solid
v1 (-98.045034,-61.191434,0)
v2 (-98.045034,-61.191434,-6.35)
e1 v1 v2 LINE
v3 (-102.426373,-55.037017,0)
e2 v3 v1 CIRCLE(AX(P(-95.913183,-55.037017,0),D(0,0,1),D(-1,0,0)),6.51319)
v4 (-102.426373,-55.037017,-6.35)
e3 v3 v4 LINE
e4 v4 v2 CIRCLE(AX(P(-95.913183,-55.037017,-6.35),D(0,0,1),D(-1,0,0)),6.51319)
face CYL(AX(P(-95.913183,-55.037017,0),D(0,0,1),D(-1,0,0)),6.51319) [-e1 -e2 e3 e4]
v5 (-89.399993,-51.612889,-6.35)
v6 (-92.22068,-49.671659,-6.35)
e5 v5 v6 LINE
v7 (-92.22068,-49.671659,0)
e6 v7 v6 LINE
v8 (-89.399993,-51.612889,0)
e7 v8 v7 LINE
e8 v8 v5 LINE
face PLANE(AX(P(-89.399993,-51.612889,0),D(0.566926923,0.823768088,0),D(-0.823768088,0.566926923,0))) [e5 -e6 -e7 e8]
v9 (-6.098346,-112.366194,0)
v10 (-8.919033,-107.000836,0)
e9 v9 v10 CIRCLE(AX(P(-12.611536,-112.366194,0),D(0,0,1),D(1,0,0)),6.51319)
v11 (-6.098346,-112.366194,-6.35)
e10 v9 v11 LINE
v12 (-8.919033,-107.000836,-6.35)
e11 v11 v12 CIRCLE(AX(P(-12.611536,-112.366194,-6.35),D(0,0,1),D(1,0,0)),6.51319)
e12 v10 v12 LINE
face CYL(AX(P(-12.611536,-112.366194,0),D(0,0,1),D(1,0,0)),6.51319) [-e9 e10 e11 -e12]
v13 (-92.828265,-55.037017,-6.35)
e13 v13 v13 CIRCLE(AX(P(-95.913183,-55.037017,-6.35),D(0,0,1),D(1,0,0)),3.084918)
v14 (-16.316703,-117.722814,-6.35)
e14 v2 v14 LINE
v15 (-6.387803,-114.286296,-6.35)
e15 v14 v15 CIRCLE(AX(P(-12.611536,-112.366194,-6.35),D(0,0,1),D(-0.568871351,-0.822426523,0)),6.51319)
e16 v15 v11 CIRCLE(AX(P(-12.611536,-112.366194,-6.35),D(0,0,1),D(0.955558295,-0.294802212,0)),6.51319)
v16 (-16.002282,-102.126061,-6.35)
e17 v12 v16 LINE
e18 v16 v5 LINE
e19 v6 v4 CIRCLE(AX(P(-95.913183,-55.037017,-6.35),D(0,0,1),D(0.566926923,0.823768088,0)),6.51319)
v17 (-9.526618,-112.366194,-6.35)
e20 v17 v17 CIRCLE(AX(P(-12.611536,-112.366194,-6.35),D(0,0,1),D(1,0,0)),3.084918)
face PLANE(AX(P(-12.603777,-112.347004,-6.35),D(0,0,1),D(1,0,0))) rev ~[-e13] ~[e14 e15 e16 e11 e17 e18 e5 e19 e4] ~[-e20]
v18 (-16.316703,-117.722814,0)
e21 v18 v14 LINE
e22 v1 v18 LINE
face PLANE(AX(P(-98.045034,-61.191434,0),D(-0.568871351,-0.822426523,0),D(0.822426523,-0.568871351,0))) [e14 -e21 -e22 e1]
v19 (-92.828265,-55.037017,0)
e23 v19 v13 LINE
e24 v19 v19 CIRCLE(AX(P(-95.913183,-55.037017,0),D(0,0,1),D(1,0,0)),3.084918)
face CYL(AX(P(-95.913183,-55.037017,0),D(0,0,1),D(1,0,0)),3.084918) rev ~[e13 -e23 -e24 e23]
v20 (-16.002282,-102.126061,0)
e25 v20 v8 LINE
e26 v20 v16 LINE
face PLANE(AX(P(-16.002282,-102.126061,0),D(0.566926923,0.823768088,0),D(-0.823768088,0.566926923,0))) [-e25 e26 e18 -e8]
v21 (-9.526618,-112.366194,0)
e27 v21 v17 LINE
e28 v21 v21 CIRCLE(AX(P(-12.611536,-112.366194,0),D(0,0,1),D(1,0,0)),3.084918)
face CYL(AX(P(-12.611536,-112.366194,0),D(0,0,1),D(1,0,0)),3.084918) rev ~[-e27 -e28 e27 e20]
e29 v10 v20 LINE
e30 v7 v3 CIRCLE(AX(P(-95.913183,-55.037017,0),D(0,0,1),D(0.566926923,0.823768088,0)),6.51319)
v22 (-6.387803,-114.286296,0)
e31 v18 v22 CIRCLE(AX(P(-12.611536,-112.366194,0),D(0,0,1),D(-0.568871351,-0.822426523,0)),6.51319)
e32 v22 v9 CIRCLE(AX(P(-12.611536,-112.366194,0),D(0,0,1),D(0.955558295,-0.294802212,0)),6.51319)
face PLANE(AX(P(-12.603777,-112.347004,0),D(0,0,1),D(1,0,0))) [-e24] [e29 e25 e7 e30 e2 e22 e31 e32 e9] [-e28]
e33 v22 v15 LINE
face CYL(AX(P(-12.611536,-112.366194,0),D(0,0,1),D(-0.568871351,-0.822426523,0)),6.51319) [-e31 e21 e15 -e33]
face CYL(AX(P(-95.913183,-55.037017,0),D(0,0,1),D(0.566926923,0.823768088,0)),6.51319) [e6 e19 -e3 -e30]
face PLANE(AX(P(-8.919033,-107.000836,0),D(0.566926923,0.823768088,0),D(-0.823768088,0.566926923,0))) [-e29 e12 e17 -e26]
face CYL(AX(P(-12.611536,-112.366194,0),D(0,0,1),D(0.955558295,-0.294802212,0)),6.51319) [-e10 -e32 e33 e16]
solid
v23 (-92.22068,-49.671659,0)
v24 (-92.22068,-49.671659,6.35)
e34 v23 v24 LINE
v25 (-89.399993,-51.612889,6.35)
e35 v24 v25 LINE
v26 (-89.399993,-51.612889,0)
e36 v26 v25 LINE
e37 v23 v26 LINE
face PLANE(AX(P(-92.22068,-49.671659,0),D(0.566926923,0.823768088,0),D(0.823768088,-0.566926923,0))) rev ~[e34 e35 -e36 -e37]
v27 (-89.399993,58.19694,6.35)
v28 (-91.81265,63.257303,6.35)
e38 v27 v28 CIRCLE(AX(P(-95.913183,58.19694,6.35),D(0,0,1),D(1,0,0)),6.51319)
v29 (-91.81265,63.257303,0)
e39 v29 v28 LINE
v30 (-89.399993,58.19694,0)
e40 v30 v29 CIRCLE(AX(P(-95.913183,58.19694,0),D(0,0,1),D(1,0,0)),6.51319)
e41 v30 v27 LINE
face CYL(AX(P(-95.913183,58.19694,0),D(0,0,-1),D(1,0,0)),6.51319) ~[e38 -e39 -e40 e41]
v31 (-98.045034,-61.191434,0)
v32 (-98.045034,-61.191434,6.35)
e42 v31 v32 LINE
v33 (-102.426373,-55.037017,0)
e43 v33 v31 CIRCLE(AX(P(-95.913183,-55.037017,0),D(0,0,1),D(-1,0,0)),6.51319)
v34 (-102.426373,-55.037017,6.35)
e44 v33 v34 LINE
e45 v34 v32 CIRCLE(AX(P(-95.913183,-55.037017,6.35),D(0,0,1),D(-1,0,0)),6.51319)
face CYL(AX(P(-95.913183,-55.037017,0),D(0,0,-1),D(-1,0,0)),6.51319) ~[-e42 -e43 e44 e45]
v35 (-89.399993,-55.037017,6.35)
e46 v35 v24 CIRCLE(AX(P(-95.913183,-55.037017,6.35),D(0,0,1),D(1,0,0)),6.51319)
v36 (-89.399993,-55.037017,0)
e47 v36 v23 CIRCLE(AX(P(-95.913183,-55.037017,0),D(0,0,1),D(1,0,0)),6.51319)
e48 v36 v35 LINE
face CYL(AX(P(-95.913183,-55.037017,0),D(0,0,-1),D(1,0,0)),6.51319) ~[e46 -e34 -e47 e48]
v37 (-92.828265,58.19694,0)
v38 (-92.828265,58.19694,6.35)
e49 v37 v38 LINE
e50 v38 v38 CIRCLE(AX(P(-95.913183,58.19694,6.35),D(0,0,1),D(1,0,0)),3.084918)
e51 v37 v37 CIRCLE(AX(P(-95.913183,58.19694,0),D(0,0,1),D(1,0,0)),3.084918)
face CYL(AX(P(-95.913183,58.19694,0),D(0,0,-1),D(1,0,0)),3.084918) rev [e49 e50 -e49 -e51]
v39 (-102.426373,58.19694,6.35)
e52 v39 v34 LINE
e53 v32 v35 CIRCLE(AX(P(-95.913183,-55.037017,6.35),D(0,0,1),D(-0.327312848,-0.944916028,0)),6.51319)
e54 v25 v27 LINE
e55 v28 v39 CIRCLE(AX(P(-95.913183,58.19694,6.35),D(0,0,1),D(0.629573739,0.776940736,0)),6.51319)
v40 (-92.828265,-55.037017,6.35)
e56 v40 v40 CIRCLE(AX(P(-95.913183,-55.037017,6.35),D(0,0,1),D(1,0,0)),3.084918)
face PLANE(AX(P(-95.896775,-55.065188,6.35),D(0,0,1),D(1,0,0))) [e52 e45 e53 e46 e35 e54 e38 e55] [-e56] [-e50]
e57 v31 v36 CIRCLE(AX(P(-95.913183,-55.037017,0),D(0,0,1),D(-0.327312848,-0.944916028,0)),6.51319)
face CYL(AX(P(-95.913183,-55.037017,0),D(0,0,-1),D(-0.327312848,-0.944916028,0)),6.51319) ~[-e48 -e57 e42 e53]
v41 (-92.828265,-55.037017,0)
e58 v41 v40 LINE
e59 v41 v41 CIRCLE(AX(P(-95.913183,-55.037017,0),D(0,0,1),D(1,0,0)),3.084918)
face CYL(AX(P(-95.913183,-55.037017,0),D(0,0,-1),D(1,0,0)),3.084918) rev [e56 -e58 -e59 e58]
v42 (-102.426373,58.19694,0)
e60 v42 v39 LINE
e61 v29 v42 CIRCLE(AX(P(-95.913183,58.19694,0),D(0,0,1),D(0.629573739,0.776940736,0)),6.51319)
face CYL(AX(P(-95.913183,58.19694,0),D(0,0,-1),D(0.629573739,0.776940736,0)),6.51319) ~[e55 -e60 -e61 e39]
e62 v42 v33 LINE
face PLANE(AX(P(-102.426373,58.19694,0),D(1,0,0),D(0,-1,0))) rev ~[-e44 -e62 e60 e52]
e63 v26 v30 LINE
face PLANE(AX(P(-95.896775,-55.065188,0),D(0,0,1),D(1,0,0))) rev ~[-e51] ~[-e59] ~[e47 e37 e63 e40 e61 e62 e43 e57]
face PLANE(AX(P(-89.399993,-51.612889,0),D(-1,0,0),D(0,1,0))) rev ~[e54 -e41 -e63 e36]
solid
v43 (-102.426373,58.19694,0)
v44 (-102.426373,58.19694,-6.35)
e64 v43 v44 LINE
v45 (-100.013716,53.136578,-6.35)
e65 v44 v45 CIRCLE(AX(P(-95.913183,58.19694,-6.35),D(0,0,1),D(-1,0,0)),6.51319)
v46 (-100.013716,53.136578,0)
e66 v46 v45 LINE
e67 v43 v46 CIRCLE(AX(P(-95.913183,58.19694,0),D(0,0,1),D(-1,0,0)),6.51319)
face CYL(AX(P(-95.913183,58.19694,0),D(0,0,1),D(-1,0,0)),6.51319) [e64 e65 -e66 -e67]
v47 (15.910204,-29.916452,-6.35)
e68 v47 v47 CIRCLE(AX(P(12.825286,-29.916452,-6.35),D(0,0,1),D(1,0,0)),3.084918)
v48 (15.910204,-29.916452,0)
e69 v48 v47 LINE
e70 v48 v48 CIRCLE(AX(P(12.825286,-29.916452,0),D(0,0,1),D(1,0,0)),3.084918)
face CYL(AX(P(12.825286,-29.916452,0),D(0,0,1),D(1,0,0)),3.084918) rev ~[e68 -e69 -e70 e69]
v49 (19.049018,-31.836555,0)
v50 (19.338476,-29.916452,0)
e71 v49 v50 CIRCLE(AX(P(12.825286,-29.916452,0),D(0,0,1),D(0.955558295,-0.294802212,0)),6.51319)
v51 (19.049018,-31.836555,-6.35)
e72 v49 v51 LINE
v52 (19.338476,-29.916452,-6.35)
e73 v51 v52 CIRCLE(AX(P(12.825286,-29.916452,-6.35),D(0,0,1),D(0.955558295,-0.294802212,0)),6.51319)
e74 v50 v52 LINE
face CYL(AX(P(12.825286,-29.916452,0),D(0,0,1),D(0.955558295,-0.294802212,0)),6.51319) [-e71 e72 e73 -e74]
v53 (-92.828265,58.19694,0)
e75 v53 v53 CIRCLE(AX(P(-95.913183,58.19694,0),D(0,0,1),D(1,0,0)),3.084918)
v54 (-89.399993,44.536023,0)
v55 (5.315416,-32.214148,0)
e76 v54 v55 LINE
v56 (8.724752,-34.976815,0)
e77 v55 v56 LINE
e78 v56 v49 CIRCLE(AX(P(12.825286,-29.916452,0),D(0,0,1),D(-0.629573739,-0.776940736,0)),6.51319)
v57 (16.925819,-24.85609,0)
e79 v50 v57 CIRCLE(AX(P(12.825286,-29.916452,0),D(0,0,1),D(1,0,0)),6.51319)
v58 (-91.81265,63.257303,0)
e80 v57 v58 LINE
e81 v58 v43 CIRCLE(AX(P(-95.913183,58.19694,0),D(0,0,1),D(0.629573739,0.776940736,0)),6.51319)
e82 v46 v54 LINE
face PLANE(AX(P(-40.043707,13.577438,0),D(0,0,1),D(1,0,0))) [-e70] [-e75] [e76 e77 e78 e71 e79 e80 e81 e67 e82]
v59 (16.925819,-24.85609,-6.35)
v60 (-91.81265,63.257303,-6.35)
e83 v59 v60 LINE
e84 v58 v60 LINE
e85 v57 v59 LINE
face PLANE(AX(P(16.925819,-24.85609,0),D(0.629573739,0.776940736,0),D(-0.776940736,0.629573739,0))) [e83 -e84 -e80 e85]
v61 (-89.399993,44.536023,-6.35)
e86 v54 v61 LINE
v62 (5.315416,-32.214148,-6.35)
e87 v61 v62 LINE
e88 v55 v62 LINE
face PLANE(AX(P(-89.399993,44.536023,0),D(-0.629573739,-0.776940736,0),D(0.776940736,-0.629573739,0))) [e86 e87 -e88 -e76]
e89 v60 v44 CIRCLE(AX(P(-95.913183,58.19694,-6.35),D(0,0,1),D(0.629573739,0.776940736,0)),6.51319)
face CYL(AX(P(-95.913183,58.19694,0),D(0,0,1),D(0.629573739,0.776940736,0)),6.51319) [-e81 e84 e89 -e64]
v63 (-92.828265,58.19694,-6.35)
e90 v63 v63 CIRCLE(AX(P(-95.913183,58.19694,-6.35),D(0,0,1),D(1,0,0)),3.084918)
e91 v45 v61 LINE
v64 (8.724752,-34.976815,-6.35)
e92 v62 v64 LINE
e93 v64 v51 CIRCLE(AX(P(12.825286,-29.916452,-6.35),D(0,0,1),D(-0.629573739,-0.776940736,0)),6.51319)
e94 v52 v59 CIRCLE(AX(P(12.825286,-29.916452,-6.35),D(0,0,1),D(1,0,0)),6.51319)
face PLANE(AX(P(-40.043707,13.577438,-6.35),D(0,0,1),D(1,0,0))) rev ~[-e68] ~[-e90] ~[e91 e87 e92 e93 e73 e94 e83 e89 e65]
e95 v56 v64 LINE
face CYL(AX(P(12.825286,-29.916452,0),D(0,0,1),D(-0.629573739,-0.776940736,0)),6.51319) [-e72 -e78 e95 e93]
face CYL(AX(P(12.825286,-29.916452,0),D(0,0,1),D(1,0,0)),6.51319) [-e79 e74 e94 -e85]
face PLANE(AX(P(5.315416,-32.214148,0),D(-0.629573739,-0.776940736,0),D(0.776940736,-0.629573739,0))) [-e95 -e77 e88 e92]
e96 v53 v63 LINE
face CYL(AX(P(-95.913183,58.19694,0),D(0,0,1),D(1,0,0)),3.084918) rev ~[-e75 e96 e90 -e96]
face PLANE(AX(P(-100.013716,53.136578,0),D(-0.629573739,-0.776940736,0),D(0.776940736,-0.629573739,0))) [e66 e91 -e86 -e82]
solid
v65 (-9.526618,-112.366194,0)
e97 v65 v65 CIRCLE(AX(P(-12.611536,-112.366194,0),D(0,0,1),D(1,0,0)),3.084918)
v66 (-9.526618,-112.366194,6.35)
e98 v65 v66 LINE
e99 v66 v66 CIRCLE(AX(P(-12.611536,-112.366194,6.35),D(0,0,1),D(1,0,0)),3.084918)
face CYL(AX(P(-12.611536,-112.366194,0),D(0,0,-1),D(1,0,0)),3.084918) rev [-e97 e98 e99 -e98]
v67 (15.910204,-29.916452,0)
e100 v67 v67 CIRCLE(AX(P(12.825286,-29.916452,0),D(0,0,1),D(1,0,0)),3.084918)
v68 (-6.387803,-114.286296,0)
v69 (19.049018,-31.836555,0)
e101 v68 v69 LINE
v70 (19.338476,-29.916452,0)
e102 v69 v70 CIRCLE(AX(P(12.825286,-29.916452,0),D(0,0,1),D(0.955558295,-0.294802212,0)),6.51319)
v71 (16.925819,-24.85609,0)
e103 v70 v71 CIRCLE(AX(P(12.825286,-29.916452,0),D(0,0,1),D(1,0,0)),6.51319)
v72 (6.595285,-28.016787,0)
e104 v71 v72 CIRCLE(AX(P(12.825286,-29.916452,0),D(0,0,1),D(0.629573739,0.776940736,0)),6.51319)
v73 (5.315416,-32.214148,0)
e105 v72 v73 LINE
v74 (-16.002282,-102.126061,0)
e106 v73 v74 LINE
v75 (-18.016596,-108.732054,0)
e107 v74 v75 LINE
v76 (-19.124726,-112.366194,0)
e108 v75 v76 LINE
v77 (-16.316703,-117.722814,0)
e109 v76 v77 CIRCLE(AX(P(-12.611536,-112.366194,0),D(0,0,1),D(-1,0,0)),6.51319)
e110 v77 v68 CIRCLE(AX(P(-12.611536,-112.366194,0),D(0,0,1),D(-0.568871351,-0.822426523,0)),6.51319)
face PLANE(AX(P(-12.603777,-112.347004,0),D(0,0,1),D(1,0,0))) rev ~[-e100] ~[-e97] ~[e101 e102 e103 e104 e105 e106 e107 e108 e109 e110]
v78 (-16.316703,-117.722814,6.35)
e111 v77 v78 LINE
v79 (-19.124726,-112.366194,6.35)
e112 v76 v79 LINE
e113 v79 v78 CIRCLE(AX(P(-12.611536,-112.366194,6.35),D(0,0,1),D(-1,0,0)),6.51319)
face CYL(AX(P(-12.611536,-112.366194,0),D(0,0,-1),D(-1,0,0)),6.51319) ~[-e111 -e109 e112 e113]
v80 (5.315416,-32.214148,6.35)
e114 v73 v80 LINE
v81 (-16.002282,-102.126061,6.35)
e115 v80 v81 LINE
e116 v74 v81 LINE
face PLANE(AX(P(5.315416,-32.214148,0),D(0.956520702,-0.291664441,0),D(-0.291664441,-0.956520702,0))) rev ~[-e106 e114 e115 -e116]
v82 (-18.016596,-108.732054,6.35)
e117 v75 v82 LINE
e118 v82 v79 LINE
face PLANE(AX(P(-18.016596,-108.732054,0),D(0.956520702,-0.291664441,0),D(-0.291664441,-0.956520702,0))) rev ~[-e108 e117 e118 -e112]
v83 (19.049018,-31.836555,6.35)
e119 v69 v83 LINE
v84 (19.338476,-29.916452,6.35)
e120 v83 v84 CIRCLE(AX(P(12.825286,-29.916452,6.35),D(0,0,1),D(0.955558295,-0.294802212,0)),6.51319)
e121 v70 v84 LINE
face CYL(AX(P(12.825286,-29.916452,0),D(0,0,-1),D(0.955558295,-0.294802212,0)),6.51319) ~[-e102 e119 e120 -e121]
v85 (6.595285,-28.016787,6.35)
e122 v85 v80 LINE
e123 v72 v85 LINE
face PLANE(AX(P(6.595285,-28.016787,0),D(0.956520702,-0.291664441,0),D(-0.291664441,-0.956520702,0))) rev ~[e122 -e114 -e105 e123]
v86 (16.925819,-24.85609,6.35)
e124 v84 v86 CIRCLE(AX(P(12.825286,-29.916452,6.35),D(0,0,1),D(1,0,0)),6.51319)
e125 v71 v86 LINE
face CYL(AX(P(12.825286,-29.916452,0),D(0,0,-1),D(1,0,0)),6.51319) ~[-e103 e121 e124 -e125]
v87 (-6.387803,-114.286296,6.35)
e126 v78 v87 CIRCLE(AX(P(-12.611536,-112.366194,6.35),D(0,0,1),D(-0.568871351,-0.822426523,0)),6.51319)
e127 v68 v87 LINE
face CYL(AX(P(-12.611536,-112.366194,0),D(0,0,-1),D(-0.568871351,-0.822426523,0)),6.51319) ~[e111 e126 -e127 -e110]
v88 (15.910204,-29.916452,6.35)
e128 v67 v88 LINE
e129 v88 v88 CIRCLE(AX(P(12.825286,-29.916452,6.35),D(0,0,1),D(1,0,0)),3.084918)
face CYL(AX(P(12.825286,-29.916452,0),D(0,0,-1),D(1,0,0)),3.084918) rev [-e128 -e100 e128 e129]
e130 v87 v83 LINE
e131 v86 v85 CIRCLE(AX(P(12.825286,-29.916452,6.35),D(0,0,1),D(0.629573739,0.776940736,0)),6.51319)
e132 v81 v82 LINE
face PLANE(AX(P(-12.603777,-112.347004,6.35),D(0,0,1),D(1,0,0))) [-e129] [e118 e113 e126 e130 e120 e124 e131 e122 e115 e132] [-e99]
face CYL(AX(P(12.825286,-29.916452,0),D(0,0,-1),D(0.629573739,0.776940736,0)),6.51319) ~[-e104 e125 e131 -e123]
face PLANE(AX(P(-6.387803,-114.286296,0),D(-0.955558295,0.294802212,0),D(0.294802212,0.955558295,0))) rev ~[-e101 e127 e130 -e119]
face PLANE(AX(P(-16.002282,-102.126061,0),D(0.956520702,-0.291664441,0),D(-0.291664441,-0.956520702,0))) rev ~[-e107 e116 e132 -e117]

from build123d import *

# Parameters (mm, degrees)
F0_R     = 3.0849178634
F1_DEPTH = 6.35
F2_DEPTH = 6.35


with BuildPart() as f1:
    # F0 (on Top) → F1 (new body)
    with BuildSketch(Plane.XY):
        with BuildLine():
            ThreePointArc((-16.316703141, -117.7228137789), (-10.4812295121, -118.5211458672), (-6.387803424, -114.286296465))
            ThreePointArc((-6.387803424, -114.286296465), (-6.171117008, -113.3370927796), (-6.0983461646, -112.3661936893))
            ThreePointArc((-6.0983461646, -112.3661936893), (-6.8464855812, -109.3353793535), (-8.919033335, -107.0008357294))
            ThreePointArc((-8.919033335, -107.0008357294), (-13.8291124641, -105.9678228216), (-18.0165959077, -108.7320542033))
            Line((-18.0165959077, -108.7320542033), (-19.1247258839, -112.3661936893))
            ThreePointArc((-19.1247258839, -112.3661936893), (-18.3801623356, -115.3901964385), (-16.316703141, -117.7228137789))
        make_face()
        with Locations((-12.6115360242, -112.3661936893)):
            Circle(F0_R, mode=Mode.SUBTRACT)
        with BuildLine():
            Line((-8.919033335, -107.0008357294), (-16.0022815285, -102.1260607007))
            Line((-16.0022815285, -102.1260607007), (-18.0165959077, -108.7320542033))
            ThreePointArc((-18.0165959077, -108.7320542033), (-13.8291124641, -105.9678228216), (-8.919033335, -107.0008357294))
        make_face()
        with BuildLine():
            Line((-6.387803424, -114.286296465), (19.0490183589, -31.8365552445))
            ThreePointArc((19.0490183589, -31.8365552445), (14.7206225754, -36.1477717913), (8.7247524678, -34.9768149931))
            Line((8.7247524678, -34.9768149931), (5.3154160158, -32.2141477822))
            Line((5.3154160158, -32.2141477822), (-16.0022815285, -102.1260607007))
            Line((-16.0022815285, -102.1260607007), (-8.919033335, -107.0008357294))
            ThreePointArc((-8.919033335, -107.0008357294), (-6.8464855812, -109.3353793535), (-6.0983461646, -112.3661936893))
            ThreePointArc((-6.0983461646, -112.3661936893), (-6.171117008, -113.3370927796), (-6.387803424, -114.286296465))
        make_face()
        with BuildLine():
            ThreePointArc((19.0490183589, -31.8365552445), (19.2657047749, -30.8873515591), (19.3384756184, -29.9164524688))
            ThreePointArc((19.3384756184, -29.9164524688), (18.7044521111, -27.1134103447), (16.9258190496, -24.8560899444))
            ThreePointArc((16.9258190496, -24.8560899444), (10.919725754, -23.6882518284), (6.5952848208, -28.0167865871))
            ThreePointArc((6.5952848208, -28.0167865871), (6.5970851184, -31.8220124735), (8.7247524678, -34.9768149931))
            ThreePointArc((8.7247524678, -34.9768149931), (14.7206225754, -36.1477717913), (19.0490183589, -31.8365552445))
        make_face()
        with Locations((12.8252857587, -29.9164524688)):
            Circle(F0_R, mode=Mode.SUBTRACT)
        with BuildLine():
            ThreePointArc((8.7247524678, -34.9768149931), (6.5970851184, -31.8220124735), (6.5952848208, -28.0167865871))
            Line((6.5952848208, -28.0167865871), (5.3154160158, -32.2141477822))
            Line((5.3154160158, -32.2141477822), (8.7247524678, -34.9768149931))
        make_face()
    extrude(amount=F1_DEPTH)


with BuildPart() as f1b:
    # F0 (on Top) → F1, piece 2 (new body)
    with BuildSketch(Plane.XY):
        with BuildLine():
            ThreePointArc((-92.2206801264, -49.6716589821), (-98.9439971514, -49.2719664991), (-102.4263726753, -55.037016942))
            ThreePointArc((-102.4263726753, -55.037016942), (-101.2191601363, -58.814350237), (-98.0450335378, -61.1914344325))
            ThreePointArc((-98.0450335378, -61.1914344325), (-92.1358495207, -60.3429942627), (-89.399992956, -55.037016942))
            ThreePointArc((-89.399992956, -55.037016942), (-90.1481323727, -52.0062026063), (-92.2206801264, -49.6716589821))
        make_face()
        with Locations((-95.9131828157, -55.037016942)):
            Circle(F0_R, mode=Mode.SUBTRACT)
        with BuildLine():
            ThreePointArc((-100.0137161066, 53.1365777234), (-101.792349168, 55.3938981238), (-102.4263726753, 58.1969402478))
            Line((-102.4263726753, 58.1969402478), (-102.4263726753, -55.037016942))
            ThreePointArc((-102.4263726753, -55.037016942), (-98.9439971514, -49.2719664991), (-92.2206801264, -49.6716589821))
            Line((-92.2206801264, -49.6716589821), (-89.399992956, -51.6128891927))
            Line((-89.399992956, -51.6128891927), (-89.399992956, 44.536022939))
            Line((-89.399992956, 44.536022939), (-100.0137161066, 53.1365777234))
        make_face()
        with BuildLine():
            ThreePointArc((-89.399992956, 58.1969402478), (-90.0340164633, 60.9999823718), (-91.8126495247, 63.2573027721))
            ThreePointArc((-91.8126495247, 63.2573027721), (-98.7162249397, 64.0761066001), (-102.4263726753, 58.1969402478))
            ThreePointArc((-102.4263726753, 58.1969402478), (-101.792349168, 55.3938981238), (-100.0137161066, 53.1365777234))
            ThreePointArc((-100.0137161066, 53.1365777234), (-93.1101406917, 52.3177738954), (-89.399992956, 58.1969402478))
        make_face()
        with Locations((-95.9131828157, 58.1969402478)):
            Circle(F0_R, mode=Mode.SUBTRACT)
        with BuildLine():
            Line((-89.399992956, 44.536022939), (-89.399992956, 58.1969402478))
            ThreePointArc((-89.399992956, 58.1969402478), (-93.1101406917, 52.3177738954), (-100.0137161066, 53.1365777234))
            Line((-100.0137161066, 53.1365777234), (-89.399992956, 44.536022939))
        make_face()
    extrude(amount=F1_DEPTH)


with BuildPart() as f2:
    # F0 (on Top) → F2 (new body)
    with BuildSketch(Plane.XY):
        with BuildLine():
            ThreePointArc((-16.316703141, -117.7228137789), (-10.4812295121, -118.5211458672), (-6.387803424, -114.286296465))
            ThreePointArc((-6.387803424, -114.286296465), (-6.171117008, -113.3370927796), (-6.0983461646, -112.3661936893))
            ThreePointArc((-6.0983461646, -112.3661936893), (-6.8464855812, -109.3353793535), (-8.919033335, -107.0008357294))
            ThreePointArc((-8.919033335, -107.0008357294), (-13.8291124641, -105.9678228216), (-18.0165959077, -108.7320542033))
            Line((-18.0165959077, -108.7320542033), (-19.1247258839, -112.3661936893))
            ThreePointArc((-19.1247258839, -112.3661936893), (-18.3801623356, -115.3901964385), (-16.316703141, -117.7228137789))
        make_face()
        with Locations((-12.6115360242, -112.3661936893)):
            Circle(F0_R, mode=Mode.SUBTRACT)
        with BuildLine():
            Line((-98.0450335378, -61.1914344325), (-16.316703141, -117.7228137789))
            ThreePointArc((-16.316703141, -117.7228137789), (-18.3801623356, -115.3901964385), (-19.1247258839, -112.3661936893))
            ThreePointArc((-19.1247258839, -112.3661936893), (-18.8415369621, -110.4665278076), (-18.0165959077, -108.7320542033))
            Line((-18.0165959077, -108.7320542033), (-16.0022815285, -102.1260607007))
            Line((-16.0022815285, -102.1260607007), (-89.399992956, -51.6128891927))
            Line((-89.399992956, -51.6128891927), (-89.399992956, -55.037016942))
            ThreePointArc((-89.399992956, -55.037016942), (-92.1358495207, -60.3429942627), (-98.0450335378, -61.1914344325))
        make_face()
        with BuildLine():
            Line((-8.919033335, -107.0008357294), (-16.0022815285, -102.1260607007))
            Line((-16.0022815285, -102.1260607007), (-18.0165959077, -108.7320542033))
            ThreePointArc((-18.0165959077, -108.7320542033), (-13.8291124641, -105.9678228216), (-8.919033335, -107.0008357294))
        make_face()
        with BuildLine():
            ThreePointArc((-18.0165959077, -108.7320542033), (-18.8415369621, -110.4665278076), (-19.1247258839, -112.3661936893))
            Line((-19.1247258839, -112.3661936893), (-18.0165959077, -108.7320542033))
        make_face()
        with BuildLine():
            ThreePointArc((-92.2206801264, -49.6716589821), (-98.9439971514, -49.2719664991), (-102.4263726753, -55.037016942))
            ThreePointArc((-102.4263726753, -55.037016942), (-101.2191601363, -58.814350237), (-98.0450335378, -61.1914344325))
            ThreePointArc((-98.0450335378, -61.1914344325), (-92.1358495207, -60.3429942627), (-89.399992956, -55.037016942))
            ThreePointArc((-89.399992956, -55.037016942), (-90.1481323727, -52.0062026063), (-92.2206801264, -49.6716589821))
        make_face()
        with Locations((-95.9131828157, -55.037016942)):
            Circle(F0_R, mode=Mode.SUBTRACT)
        with BuildLine():
            Line((-89.399992956, -55.037016942), (-89.399992956, -51.6128891927))
            Line((-89.399992956, -51.6128891927), (-92.2206801264, -49.6716589821))
            ThreePointArc((-92.2206801264, -49.6716589821), (-90.1481323727, -52.0062026063), (-89.399992956, -55.037016942))
        make_face()
    extrude(amount=-F2_DEPTH)


with BuildPart() as f2b:
    # F0 (on Top) → F2, piece 2 (new body)
    with BuildSketch(Plane.XY):
        with BuildLine():
            ThreePointArc((6.5952848208, -28.0167865871), (10.919725754, -23.6882518284), (16.9258190496, -24.8560899444))
            Line((16.9258190496, -24.8560899444), (-91.8126495247, 63.2573027721))
            ThreePointArc((-91.8126495247, 63.2573027721), (-90.0340164633, 60.9999823718), (-89.399992956, 58.1969402478))
            Line((-89.399992956, 58.1969402478), (-89.399992956, 44.536022939))
            Line((-89.399992956, 44.536022939), (5.3154160158, -32.2141477822))
            Line((5.3154160158, -32.2141477822), (6.5952848208, -28.0167865871))
        make_face()
        with BuildLine():
            ThreePointArc((19.0490183589, -31.8365552445), (19.2657047749, -30.8873515591), (19.3384756184, -29.9164524688))
            ThreePointArc((19.3384756184, -29.9164524688), (18.7044521111, -27.1134103447), (16.9258190496, -24.8560899444))
            ThreePointArc((16.9258190496, -24.8560899444), (10.919725754, -23.6882518284), (6.5952848208, -28.0167865871))
            ThreePointArc((6.5952848208, -28.0167865871), (6.5970851184, -31.8220124735), (8.7247524678, -34.9768149931))
            ThreePointArc((8.7247524678, -34.9768149931), (14.7206225754, -36.1477717913), (19.0490183589, -31.8365552445))
        make_face()
        with Locations((12.8252857587, -29.9164524688)):
            Circle(F0_R, mode=Mode.SUBTRACT)
        with BuildLine():
            ThreePointArc((8.7247524678, -34.9768149931), (6.5970851184, -31.8220124735), (6.5952848208, -28.0167865871))
            Line((6.5952848208, -28.0167865871), (5.3154160158, -32.2141477822))
            Line((5.3154160158, -32.2141477822), (8.7247524678, -34.9768149931))
        make_face()
        with BuildLine():
            Line((-89.399992956, 44.536022939), (-89.399992956, 58.1969402478))
            ThreePointArc((-89.399992956, 58.1969402478), (-93.1101406917, 52.3177738954), (-100.0137161066, 53.1365777234))
            Line((-100.0137161066, 53.1365777234), (-89.399992956, 44.536022939))
        make_face()
        with BuildLine():
            ThreePointArc((-89.399992956, 58.1969402478), (-90.0340164633, 60.9999823718), (-91.8126495247, 63.2573027721))
            ThreePointArc((-91.8126495247, 63.2573027721), (-98.7162249397, 64.0761066001), (-102.4263726753, 58.1969402478))
            ThreePointArc((-102.4263726753, 58.1969402478), (-101.792349168, 55.3938981238), (-100.0137161066, 53.1365777234))
            ThreePointArc((-100.0137161066, 53.1365777234), (-93.1101406917, 52.3177738954), (-89.399992956, 58.1969402478))
        make_face()
        with Locations((-95.9131828157, 58.1969402478)):
            Circle(F0_R, mode=Mode.SUBTRACT)
    extrude(amount=-F2_DEPTH)


solid = Compound([f1.part, f1b.part, f2.part, f2b.part])
